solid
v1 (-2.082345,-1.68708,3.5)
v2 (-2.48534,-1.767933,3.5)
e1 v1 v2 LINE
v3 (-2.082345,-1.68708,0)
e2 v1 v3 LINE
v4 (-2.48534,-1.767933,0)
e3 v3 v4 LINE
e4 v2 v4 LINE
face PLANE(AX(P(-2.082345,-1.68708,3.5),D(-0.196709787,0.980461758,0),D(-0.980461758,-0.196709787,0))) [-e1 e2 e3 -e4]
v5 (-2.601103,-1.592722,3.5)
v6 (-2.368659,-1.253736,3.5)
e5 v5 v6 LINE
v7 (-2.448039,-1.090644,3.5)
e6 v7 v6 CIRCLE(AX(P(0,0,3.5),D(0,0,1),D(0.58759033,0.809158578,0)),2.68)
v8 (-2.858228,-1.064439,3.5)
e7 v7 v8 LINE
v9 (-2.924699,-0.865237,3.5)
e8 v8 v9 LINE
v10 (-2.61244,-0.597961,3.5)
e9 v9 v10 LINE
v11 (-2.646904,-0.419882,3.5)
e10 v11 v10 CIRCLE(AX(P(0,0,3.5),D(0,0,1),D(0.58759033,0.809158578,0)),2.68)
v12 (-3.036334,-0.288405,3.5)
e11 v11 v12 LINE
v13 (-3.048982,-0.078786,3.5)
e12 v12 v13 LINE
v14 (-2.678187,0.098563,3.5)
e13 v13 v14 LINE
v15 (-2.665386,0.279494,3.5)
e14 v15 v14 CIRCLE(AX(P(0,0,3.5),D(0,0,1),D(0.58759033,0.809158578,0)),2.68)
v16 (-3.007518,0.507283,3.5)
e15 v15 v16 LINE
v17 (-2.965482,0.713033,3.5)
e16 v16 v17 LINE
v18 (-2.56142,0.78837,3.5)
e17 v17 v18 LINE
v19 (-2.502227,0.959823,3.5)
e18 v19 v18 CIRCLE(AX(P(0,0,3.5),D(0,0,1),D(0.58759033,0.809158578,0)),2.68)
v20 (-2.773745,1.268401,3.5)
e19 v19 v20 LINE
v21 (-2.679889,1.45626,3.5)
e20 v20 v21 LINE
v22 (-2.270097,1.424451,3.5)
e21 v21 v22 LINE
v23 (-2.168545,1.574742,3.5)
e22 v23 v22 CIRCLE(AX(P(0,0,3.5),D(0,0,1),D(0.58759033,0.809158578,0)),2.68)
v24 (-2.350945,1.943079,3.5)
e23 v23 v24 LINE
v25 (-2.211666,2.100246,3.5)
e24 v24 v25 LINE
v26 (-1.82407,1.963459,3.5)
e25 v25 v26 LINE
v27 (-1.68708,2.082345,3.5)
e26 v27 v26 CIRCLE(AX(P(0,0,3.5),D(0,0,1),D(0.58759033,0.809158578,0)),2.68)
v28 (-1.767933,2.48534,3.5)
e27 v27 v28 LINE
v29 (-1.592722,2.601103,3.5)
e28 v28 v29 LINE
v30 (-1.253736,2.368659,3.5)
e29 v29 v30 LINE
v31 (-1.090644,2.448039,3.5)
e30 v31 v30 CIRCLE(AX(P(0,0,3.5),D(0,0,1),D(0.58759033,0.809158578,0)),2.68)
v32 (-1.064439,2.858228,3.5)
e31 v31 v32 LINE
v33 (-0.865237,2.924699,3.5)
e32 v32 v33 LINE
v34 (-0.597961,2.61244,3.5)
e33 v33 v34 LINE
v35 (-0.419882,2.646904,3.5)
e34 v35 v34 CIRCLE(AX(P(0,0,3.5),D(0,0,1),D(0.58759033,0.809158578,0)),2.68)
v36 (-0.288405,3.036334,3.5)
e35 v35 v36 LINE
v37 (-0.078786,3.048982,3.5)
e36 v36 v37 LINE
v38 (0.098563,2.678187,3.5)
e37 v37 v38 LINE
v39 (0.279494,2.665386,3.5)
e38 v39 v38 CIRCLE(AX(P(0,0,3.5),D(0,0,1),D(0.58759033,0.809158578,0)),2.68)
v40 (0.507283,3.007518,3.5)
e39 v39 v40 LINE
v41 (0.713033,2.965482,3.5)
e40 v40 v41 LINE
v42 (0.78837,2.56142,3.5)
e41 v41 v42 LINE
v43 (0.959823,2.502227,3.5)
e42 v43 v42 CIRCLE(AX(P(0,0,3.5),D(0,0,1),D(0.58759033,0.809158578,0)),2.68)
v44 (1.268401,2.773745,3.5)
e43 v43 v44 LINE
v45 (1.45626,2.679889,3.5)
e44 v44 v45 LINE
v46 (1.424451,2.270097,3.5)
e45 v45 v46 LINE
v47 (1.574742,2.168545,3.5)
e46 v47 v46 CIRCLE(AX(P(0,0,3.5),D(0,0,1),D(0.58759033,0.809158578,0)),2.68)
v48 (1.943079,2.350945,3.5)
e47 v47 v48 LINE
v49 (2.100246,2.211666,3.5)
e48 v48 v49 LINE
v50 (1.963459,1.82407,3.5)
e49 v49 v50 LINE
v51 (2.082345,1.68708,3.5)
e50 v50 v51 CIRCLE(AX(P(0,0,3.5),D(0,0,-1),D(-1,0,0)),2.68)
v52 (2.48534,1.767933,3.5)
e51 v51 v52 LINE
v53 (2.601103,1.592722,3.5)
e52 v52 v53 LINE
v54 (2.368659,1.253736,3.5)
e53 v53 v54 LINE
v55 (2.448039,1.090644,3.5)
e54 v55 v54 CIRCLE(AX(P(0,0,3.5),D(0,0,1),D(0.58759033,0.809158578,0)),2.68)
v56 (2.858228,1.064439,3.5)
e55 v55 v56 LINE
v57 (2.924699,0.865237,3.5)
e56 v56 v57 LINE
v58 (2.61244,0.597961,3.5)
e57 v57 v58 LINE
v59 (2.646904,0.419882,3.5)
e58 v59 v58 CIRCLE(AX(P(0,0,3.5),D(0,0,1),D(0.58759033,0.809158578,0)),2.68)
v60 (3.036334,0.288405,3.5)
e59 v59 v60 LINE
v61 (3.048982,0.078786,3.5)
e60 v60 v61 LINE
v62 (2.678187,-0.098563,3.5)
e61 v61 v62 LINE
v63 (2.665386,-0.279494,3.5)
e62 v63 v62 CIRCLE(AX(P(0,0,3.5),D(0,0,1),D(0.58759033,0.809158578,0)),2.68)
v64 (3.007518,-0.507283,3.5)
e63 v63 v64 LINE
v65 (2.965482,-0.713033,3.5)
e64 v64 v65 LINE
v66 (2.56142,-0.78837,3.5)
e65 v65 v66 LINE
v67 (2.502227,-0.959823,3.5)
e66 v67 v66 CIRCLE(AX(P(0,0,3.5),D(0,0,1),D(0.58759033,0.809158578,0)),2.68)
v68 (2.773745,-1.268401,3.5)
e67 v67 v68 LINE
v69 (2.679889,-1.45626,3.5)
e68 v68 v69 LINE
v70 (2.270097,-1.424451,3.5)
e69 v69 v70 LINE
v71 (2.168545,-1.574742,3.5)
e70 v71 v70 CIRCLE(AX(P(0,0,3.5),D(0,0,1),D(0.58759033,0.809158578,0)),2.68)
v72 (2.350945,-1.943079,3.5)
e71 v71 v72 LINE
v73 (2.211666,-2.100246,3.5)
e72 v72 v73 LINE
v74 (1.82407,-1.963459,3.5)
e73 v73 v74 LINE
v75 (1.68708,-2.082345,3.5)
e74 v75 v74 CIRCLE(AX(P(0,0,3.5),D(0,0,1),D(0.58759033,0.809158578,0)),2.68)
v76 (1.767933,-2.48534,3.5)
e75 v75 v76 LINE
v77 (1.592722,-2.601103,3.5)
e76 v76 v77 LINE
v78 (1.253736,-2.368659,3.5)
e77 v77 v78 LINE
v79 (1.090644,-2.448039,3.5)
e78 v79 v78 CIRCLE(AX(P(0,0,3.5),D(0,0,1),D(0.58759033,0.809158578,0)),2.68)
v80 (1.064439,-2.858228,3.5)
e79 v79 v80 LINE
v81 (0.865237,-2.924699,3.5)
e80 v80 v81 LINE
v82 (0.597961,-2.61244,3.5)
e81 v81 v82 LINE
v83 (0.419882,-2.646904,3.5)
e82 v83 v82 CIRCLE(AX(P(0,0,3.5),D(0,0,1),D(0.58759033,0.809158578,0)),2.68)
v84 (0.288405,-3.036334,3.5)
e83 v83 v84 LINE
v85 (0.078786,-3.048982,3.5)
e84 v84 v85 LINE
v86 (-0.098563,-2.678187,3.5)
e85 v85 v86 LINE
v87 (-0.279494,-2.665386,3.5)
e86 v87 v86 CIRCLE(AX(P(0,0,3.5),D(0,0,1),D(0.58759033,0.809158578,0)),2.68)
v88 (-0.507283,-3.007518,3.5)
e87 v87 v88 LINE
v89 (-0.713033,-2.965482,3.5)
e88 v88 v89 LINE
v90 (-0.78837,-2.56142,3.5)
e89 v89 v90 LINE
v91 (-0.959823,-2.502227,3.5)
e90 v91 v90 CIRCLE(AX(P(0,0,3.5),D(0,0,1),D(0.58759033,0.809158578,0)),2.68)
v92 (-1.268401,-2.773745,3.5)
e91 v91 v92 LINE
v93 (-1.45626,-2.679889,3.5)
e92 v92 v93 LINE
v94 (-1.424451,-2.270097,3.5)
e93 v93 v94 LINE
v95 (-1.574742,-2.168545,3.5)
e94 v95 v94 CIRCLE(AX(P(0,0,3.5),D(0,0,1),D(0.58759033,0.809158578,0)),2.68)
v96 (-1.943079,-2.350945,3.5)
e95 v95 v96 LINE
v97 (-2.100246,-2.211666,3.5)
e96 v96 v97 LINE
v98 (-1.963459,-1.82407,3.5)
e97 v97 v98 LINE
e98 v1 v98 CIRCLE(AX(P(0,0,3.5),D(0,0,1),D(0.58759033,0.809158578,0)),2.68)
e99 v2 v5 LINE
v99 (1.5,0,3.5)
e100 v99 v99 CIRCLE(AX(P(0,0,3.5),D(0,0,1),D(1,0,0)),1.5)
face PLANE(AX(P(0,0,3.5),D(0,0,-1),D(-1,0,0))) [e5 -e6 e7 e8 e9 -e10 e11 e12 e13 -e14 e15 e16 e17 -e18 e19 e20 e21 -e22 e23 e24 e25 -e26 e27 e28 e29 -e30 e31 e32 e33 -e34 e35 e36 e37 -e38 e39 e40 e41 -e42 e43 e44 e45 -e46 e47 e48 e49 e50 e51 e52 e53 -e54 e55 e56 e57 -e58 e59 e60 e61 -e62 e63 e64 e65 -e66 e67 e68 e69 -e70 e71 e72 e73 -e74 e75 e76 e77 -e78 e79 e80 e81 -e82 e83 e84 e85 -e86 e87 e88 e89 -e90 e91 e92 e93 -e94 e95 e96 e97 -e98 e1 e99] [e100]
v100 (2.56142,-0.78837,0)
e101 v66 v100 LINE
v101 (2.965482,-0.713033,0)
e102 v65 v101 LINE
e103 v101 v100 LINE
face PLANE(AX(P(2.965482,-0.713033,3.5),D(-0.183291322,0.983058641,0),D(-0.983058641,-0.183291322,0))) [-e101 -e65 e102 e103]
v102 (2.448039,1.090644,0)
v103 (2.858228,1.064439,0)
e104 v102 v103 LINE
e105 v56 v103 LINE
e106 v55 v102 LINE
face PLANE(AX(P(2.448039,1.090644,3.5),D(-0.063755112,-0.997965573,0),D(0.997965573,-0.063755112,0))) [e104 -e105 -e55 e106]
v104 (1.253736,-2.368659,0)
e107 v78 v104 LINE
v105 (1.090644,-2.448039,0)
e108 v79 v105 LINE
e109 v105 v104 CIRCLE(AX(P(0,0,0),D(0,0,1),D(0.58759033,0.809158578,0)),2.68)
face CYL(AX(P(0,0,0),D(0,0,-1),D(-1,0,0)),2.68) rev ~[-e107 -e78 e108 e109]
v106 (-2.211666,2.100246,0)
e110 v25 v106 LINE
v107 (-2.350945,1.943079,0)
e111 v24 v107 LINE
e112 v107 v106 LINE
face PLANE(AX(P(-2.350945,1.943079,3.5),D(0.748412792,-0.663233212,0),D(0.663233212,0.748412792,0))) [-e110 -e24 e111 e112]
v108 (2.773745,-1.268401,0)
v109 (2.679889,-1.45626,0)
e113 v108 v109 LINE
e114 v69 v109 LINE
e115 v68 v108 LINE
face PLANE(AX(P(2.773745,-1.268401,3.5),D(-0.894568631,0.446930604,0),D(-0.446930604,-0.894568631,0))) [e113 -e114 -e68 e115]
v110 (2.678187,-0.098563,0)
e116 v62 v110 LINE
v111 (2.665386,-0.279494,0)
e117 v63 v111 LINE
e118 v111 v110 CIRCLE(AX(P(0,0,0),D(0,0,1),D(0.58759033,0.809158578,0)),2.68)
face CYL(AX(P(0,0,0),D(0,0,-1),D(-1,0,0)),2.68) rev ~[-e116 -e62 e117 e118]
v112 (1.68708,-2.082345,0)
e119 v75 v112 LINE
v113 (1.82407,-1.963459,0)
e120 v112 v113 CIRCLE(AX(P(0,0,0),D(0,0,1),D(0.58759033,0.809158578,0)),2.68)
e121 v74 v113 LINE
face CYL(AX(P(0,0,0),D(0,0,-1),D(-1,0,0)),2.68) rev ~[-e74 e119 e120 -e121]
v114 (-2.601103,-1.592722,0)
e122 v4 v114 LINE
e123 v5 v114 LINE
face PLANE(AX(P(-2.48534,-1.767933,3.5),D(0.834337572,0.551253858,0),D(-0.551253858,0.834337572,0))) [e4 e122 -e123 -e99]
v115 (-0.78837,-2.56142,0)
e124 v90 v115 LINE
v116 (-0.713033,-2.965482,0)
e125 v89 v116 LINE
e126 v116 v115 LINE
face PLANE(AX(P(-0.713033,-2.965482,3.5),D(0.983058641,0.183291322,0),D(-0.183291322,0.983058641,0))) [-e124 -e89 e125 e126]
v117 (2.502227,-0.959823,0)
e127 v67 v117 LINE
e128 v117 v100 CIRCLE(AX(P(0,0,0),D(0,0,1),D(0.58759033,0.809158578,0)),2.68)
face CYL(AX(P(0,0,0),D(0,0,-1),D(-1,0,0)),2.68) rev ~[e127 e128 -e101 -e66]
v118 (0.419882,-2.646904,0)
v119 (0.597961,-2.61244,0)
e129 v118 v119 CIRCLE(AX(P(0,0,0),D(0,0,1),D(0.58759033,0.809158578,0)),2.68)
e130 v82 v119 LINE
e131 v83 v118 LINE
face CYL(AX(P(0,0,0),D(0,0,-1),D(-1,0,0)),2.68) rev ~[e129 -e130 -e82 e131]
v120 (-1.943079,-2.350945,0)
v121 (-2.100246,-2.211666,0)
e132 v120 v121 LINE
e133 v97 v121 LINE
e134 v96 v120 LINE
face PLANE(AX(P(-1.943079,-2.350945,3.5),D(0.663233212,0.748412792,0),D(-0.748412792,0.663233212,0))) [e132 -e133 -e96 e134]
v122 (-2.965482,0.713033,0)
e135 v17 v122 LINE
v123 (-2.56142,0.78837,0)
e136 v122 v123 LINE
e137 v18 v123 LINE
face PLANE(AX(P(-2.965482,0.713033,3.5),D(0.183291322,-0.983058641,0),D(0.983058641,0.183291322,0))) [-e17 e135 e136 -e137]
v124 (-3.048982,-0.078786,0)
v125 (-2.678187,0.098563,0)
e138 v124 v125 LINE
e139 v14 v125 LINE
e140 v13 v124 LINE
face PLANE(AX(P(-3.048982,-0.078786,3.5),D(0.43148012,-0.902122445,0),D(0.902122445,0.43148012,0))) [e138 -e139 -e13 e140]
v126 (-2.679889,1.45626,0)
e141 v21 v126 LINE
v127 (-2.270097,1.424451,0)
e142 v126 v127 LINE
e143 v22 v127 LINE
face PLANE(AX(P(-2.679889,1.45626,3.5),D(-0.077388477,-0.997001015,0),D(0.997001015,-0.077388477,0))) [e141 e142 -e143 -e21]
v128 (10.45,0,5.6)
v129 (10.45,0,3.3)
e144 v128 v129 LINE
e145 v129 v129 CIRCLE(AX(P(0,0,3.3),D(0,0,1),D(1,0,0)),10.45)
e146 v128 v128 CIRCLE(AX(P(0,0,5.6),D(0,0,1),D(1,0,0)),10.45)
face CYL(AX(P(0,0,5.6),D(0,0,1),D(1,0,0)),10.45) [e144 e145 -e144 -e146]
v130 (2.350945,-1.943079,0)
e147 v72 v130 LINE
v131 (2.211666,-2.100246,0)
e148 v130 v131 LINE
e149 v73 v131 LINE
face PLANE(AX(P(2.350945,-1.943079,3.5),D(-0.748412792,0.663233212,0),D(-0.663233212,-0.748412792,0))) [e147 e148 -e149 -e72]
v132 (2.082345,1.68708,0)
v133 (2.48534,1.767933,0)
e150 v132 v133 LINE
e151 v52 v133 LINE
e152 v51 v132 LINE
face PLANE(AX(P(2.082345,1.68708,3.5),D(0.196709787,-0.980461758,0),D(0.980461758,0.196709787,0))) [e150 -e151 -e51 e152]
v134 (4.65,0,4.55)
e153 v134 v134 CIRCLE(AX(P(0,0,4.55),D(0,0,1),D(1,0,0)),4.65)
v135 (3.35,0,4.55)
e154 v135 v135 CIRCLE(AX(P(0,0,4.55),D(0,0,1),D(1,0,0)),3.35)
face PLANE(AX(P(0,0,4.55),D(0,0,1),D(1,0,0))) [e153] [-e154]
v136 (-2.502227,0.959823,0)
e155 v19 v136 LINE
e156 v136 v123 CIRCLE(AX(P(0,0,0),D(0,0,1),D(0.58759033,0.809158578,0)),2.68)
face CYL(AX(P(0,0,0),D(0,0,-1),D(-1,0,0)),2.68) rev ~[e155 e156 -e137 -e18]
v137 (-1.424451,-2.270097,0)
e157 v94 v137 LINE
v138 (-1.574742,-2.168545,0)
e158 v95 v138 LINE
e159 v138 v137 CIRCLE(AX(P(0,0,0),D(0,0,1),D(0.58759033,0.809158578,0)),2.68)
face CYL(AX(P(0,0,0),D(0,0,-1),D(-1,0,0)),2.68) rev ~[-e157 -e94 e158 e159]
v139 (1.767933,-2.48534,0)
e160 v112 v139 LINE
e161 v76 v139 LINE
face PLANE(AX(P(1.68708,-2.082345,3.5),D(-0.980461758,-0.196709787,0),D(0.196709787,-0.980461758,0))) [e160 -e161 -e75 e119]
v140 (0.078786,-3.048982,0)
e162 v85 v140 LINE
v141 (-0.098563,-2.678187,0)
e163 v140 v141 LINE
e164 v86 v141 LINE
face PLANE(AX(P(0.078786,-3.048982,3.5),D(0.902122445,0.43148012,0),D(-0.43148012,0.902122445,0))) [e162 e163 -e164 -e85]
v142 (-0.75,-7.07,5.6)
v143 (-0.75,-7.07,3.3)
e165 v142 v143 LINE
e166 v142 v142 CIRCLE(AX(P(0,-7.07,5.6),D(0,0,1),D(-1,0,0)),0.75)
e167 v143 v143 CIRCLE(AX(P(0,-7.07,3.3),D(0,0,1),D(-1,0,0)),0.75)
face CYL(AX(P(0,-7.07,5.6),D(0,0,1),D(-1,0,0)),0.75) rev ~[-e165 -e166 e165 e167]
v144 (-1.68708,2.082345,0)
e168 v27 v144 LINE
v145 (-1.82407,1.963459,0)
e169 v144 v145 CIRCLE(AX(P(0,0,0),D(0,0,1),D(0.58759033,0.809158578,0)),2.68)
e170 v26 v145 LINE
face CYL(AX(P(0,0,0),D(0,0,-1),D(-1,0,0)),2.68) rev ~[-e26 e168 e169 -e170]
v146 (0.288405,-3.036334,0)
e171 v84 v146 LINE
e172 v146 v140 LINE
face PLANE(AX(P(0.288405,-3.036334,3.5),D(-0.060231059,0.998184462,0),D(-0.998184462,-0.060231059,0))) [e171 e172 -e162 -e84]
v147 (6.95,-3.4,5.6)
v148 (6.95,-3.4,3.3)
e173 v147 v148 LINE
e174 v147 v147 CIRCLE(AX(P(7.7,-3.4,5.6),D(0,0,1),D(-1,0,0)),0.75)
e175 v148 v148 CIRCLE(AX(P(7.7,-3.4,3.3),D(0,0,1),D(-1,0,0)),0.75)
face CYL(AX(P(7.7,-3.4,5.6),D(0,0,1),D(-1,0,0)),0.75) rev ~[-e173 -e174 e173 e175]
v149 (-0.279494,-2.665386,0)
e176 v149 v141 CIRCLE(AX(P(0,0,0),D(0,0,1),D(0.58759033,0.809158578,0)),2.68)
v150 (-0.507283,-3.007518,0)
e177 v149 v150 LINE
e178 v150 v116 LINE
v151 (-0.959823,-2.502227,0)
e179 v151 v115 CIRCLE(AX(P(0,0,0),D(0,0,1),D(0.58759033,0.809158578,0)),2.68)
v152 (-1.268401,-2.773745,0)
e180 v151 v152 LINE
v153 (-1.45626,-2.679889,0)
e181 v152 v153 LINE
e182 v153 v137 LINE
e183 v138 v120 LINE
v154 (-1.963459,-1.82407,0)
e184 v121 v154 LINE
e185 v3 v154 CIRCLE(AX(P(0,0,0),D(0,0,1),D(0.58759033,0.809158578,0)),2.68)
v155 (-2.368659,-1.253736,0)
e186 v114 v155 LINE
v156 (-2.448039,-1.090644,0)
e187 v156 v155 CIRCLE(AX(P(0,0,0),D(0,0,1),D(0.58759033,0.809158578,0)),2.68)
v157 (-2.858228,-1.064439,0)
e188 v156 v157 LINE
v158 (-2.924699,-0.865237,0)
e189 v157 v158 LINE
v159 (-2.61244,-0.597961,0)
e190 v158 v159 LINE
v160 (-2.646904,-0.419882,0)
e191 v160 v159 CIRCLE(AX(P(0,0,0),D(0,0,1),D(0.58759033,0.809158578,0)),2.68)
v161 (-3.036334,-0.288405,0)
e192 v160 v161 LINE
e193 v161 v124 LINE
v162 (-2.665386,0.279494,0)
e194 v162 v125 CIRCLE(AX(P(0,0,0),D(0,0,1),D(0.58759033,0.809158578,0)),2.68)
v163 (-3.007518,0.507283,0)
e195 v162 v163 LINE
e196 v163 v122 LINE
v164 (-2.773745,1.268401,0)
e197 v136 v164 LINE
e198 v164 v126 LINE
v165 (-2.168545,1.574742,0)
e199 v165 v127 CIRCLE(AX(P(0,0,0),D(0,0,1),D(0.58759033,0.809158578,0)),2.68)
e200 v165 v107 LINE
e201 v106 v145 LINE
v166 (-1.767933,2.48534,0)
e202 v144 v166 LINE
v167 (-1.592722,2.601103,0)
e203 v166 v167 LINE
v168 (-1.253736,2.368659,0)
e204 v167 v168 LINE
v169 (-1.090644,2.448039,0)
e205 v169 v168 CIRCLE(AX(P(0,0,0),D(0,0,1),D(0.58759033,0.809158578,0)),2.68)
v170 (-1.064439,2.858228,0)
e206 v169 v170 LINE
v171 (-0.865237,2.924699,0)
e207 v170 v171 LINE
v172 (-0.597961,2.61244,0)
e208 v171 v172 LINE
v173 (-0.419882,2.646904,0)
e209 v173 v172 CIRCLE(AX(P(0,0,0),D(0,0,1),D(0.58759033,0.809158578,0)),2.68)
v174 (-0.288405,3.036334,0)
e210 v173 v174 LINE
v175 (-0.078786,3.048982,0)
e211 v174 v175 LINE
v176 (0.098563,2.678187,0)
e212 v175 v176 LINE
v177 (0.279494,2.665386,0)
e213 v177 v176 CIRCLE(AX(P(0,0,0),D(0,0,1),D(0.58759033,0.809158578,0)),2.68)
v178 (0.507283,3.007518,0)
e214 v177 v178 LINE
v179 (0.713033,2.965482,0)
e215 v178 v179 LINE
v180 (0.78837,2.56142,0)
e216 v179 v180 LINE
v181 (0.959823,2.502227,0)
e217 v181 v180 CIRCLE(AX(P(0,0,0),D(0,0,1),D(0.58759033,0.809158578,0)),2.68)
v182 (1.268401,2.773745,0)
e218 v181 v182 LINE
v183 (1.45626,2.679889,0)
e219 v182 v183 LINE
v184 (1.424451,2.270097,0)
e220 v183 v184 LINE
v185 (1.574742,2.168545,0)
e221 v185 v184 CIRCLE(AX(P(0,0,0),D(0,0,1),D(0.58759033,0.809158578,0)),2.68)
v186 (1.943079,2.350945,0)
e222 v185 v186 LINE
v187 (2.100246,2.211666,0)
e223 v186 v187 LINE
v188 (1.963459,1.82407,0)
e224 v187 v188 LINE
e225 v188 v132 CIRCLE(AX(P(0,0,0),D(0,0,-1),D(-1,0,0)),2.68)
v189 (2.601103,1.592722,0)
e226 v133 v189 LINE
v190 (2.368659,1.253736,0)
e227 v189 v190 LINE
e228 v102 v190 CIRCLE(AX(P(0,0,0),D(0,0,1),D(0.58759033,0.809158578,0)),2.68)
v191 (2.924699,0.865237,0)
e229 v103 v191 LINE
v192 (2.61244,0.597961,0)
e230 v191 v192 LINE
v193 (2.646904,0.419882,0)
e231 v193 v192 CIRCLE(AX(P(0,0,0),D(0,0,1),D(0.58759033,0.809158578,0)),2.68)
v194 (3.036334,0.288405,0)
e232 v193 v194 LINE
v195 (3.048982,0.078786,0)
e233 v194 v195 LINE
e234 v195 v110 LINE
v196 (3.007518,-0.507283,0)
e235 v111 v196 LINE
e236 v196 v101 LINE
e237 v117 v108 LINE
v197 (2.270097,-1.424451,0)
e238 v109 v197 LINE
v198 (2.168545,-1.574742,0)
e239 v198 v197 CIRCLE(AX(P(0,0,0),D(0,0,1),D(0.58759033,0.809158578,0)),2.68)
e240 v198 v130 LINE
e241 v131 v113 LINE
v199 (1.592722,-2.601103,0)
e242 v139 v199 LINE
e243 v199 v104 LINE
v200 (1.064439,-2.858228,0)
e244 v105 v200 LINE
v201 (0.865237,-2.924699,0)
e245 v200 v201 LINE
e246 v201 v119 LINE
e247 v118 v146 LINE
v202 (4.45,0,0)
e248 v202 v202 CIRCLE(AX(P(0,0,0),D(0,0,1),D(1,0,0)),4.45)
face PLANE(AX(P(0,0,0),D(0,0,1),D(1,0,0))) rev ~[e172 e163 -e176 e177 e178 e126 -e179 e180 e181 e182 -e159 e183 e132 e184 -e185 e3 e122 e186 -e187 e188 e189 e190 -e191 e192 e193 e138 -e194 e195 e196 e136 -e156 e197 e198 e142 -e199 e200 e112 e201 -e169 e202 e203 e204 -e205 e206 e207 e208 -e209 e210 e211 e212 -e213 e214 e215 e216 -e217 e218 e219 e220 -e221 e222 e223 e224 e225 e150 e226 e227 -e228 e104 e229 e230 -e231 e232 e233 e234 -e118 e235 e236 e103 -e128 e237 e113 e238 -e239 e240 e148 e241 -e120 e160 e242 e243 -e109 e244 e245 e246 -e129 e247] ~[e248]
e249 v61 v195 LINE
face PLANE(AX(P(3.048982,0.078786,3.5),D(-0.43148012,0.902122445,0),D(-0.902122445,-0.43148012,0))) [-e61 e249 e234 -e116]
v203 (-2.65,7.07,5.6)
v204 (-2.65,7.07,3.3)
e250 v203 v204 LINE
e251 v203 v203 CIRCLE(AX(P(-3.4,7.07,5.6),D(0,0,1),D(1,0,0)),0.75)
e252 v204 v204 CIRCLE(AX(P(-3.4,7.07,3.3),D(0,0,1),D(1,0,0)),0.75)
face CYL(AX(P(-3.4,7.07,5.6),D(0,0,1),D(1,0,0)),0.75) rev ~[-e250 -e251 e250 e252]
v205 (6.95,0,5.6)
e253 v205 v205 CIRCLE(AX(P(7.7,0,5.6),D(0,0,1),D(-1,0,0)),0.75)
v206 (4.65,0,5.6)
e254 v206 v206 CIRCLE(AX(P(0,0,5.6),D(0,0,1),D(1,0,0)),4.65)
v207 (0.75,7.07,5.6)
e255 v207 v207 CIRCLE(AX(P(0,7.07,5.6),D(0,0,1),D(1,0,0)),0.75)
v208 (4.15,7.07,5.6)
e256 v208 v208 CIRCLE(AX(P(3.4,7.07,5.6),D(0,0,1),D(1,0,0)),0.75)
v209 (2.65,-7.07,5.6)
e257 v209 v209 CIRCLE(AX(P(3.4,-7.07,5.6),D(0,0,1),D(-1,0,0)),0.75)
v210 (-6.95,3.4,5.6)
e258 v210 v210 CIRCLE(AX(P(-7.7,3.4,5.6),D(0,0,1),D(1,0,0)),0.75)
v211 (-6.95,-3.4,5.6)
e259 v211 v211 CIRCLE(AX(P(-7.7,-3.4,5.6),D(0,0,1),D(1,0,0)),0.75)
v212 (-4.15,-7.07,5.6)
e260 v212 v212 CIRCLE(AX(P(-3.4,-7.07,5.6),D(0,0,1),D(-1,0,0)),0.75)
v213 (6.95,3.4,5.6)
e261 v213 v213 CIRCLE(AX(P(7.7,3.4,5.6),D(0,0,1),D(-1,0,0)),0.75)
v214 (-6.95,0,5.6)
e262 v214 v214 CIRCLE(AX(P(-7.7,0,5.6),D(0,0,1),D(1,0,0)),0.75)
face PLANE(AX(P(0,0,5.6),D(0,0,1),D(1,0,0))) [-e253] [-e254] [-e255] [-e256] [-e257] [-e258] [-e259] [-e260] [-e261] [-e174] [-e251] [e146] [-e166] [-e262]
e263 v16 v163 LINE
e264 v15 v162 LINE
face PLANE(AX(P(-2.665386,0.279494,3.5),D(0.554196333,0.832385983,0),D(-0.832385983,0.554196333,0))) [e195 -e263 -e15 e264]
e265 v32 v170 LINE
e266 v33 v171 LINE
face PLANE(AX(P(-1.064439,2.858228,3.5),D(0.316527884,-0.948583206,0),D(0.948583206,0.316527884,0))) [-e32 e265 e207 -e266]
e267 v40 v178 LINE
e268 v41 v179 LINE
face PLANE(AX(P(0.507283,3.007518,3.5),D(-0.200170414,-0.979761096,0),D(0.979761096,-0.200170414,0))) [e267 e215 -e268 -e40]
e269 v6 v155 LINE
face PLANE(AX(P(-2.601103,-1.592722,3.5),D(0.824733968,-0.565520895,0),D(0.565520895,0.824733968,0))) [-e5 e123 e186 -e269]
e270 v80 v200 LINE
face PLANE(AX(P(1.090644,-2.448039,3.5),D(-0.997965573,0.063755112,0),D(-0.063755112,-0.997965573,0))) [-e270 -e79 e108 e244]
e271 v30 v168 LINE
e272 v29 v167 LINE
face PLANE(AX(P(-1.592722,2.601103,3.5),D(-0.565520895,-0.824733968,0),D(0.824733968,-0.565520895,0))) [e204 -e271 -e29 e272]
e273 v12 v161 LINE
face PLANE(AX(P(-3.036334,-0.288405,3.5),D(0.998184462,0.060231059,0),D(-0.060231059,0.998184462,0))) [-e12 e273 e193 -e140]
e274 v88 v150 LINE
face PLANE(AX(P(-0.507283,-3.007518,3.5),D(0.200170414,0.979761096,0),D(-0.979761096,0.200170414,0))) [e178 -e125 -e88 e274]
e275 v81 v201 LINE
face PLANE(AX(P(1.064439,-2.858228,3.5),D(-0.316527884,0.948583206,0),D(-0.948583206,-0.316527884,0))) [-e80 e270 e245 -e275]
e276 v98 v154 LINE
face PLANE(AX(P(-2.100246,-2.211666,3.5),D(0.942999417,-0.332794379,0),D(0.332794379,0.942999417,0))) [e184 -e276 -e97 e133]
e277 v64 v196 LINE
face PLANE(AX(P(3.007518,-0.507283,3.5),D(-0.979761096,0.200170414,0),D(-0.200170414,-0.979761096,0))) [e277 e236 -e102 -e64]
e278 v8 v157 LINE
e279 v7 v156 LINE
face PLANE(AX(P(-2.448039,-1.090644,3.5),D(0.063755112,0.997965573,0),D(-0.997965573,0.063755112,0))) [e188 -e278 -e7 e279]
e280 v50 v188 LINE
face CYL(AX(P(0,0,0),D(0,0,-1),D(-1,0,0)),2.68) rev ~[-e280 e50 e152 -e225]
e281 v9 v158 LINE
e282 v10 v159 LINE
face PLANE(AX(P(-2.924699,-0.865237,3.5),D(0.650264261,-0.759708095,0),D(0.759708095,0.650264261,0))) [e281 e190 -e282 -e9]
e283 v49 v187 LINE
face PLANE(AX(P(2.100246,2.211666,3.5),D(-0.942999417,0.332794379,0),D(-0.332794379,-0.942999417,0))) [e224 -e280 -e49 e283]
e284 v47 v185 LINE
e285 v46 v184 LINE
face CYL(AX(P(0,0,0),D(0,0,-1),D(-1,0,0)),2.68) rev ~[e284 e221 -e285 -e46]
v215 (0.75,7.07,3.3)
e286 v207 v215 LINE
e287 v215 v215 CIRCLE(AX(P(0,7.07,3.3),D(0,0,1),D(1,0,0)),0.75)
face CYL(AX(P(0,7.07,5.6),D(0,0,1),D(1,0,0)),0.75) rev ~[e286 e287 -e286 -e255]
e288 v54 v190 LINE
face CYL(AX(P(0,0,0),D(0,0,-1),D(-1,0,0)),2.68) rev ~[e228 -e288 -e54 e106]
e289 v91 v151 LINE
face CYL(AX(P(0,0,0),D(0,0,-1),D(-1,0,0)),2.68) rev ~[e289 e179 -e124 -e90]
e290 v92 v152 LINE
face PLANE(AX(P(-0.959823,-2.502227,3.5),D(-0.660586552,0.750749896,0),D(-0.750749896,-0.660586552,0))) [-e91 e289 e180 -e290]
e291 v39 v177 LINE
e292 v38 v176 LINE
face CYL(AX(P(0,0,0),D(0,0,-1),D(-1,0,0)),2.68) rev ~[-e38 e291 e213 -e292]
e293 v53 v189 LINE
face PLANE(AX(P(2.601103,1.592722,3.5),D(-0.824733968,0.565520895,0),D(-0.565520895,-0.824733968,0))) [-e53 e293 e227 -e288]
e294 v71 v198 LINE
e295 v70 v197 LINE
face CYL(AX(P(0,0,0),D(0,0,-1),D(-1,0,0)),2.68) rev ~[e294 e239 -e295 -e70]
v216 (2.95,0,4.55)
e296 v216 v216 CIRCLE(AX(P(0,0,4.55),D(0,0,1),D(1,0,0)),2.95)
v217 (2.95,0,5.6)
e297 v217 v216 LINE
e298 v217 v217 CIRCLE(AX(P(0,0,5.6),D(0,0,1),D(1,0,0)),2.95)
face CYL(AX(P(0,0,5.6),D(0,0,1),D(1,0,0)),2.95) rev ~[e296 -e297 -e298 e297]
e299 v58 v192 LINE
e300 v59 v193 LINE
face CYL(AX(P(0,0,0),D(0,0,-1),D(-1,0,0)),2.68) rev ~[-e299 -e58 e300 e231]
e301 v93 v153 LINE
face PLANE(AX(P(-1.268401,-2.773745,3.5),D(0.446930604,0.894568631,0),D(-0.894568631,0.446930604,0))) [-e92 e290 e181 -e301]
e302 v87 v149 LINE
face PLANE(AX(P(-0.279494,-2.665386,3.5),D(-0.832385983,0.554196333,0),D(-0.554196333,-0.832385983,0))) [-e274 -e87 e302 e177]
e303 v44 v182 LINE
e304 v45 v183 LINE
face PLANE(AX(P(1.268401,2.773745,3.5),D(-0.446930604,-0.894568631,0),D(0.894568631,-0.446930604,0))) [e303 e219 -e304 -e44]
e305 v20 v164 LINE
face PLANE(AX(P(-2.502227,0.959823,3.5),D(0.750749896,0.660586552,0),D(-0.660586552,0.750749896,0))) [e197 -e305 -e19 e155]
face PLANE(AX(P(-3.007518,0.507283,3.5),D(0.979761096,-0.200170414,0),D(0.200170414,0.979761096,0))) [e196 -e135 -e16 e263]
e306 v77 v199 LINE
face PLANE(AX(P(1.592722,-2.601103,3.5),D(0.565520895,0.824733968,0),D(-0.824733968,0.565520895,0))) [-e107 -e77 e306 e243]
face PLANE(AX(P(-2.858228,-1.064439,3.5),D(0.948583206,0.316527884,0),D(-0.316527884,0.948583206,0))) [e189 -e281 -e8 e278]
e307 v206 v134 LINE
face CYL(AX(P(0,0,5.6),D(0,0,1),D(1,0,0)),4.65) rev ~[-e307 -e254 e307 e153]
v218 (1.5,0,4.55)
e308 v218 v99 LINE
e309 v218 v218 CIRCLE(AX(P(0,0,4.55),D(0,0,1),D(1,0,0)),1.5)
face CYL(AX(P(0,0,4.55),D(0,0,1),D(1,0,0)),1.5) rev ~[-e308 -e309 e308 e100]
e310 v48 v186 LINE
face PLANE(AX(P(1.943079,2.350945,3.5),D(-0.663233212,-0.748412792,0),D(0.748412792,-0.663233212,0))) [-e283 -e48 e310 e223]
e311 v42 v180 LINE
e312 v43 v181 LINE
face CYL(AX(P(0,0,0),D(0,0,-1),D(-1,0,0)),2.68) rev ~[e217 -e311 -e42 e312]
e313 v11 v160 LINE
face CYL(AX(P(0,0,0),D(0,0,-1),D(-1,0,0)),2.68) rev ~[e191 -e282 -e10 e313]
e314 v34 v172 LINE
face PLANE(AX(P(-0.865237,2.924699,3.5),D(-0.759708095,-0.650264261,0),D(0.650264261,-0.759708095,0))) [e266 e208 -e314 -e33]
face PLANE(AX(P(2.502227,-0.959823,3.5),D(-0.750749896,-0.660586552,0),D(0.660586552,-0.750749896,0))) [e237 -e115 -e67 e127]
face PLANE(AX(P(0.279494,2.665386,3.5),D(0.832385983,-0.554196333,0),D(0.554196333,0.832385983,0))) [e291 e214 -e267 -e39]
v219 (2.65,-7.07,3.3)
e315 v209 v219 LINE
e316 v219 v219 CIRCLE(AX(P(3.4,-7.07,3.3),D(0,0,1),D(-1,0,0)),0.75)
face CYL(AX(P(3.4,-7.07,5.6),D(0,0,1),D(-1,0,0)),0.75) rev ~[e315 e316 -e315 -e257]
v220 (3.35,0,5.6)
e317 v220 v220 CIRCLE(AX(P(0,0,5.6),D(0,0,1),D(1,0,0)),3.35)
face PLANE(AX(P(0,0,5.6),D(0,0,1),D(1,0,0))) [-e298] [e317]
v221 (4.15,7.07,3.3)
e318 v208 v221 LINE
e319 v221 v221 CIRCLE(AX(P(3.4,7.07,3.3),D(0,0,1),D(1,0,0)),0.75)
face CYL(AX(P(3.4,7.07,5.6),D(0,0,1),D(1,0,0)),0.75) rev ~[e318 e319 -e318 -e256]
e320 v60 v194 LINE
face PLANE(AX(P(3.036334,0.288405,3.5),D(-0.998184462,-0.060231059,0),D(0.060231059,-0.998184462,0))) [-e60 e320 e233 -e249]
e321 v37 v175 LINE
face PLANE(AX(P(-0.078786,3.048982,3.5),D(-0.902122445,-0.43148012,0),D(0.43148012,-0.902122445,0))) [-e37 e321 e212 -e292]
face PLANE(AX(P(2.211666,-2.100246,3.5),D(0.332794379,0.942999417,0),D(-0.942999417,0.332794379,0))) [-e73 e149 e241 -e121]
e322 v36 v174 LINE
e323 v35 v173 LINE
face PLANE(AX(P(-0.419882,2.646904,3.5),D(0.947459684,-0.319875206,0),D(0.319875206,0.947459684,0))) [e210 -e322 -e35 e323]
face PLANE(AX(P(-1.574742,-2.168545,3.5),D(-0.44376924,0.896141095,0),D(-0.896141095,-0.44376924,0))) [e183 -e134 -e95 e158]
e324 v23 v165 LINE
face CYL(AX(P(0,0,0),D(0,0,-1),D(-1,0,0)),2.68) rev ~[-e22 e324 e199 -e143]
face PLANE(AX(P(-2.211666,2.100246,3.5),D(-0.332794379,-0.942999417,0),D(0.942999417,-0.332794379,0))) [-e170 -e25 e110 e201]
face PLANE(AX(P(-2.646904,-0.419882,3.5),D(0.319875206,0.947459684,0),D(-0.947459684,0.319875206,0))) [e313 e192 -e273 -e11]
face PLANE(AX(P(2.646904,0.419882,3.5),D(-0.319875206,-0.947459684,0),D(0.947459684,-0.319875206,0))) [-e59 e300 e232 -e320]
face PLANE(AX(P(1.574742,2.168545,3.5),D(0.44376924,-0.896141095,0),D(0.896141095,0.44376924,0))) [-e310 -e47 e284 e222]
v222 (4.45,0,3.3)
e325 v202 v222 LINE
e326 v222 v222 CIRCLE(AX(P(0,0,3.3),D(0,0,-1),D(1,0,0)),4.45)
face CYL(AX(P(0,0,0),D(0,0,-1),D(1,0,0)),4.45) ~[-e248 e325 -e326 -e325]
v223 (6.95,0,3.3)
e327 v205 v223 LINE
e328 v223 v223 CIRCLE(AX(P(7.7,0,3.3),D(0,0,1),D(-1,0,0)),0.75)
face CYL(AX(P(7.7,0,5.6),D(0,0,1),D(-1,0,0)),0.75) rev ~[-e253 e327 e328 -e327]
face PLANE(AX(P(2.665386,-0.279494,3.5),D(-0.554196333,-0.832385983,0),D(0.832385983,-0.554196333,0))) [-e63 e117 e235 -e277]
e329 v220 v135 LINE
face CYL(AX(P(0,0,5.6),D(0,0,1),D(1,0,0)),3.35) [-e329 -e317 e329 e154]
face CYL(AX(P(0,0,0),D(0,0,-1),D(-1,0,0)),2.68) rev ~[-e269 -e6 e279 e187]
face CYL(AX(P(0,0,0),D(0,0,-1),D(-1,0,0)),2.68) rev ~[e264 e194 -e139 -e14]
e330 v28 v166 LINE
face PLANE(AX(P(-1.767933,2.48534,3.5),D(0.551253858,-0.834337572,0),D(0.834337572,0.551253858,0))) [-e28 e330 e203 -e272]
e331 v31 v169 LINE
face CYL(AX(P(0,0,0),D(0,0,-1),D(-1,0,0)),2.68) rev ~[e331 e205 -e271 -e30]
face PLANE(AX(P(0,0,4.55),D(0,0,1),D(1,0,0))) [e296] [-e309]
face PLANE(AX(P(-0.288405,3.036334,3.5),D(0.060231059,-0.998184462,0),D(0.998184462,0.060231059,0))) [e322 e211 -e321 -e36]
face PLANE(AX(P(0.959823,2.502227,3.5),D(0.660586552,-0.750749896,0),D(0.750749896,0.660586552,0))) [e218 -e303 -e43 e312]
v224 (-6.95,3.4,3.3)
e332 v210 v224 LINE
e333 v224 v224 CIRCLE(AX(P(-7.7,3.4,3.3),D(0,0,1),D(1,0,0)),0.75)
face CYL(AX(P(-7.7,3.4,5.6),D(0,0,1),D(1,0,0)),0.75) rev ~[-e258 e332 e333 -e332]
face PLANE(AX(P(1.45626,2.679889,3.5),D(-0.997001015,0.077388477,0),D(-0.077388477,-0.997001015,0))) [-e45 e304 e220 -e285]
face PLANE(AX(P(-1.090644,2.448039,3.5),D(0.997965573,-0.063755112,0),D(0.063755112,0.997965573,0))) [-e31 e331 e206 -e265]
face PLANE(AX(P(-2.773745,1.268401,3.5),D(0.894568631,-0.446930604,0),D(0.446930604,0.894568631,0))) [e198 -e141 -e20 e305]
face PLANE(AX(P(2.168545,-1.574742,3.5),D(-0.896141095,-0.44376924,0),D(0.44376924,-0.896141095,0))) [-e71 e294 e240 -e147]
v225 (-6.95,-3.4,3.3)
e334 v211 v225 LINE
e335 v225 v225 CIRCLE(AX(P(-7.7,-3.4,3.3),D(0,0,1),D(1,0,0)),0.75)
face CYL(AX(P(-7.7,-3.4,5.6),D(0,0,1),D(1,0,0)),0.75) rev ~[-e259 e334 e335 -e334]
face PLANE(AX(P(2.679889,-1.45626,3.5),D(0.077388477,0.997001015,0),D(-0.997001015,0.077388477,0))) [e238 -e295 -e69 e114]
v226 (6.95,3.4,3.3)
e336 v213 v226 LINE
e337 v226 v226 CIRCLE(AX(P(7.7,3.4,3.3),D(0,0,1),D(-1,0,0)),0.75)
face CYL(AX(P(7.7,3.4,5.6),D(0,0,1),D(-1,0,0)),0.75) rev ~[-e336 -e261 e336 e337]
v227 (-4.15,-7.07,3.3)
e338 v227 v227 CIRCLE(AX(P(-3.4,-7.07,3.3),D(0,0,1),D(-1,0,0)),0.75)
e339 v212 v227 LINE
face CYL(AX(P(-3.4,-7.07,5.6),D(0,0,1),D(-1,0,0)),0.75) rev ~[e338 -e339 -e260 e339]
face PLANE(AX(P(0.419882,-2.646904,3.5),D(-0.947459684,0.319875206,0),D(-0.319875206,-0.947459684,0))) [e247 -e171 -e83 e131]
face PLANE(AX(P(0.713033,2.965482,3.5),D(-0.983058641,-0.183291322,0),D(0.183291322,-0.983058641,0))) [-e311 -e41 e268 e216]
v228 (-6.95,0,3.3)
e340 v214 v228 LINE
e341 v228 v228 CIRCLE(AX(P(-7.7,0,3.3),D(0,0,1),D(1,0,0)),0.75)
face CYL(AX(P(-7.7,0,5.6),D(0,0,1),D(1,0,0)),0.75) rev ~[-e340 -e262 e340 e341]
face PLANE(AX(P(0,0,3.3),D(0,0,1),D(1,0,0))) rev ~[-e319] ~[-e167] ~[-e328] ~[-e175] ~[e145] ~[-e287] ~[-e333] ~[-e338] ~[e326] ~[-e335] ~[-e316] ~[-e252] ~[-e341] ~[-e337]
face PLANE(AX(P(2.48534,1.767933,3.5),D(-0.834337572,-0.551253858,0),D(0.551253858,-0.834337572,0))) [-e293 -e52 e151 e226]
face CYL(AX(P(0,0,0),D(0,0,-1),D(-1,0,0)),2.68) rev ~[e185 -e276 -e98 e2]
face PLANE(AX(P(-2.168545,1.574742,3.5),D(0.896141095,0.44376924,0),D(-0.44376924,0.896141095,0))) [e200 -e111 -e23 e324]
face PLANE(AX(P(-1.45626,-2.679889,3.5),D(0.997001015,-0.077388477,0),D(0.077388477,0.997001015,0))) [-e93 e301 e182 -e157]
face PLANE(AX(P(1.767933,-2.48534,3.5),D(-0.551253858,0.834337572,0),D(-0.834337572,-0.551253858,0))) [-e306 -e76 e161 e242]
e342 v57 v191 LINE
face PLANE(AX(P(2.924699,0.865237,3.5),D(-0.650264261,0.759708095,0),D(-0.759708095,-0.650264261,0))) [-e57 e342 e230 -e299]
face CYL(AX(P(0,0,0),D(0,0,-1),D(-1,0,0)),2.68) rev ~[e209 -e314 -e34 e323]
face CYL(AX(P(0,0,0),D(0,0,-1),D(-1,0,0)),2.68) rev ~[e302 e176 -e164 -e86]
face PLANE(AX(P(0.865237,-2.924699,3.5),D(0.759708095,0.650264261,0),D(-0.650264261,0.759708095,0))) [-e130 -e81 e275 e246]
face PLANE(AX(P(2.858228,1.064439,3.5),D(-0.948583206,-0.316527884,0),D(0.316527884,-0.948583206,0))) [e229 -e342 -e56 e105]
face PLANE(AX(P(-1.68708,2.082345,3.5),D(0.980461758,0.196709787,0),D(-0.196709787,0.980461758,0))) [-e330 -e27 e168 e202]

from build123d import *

# Parameters (mm, degrees)
IZIM1_R                     = 4.45
Y_KSEKLIK_EKSTR_ZYON1_DEPTH = 5.6
IZIM2_R                     = 10.45
IZIM2_R_2                   = 0.75
Y_KSEKLIK_EKSTR_ZYON2_DEPTH = 2.3
IZIM3_R                     = 2.95
KES_EKSTR_ZYON1_DEPTH       = 1.05
IZIM4_R                     = 4.65
IZIM4_R_2                   = 3.35
KES_EKSTR_ZYON2_DEPTH       = 1.05
IZIM5_R                     = 1.5
KES_EKSTR_ZYON3_DEPTH       = 11.05
IZIM6_R                     = 2.68
KES_EKSTR_ZYON4_DEPTH       = 3.5
KES_EKSTR_ZYON5_DEPTH       = 3.5
DAIRESEL_KAPLAMA1_COUNT     = 24


with BuildPart() as part:
    # Çizim1 → Yükseklik-Ekstrüzyon1 (new body)
    with BuildSketch(Plane.XY):
        Circle(IZIM1_R)
    extrude(amount=Y_KSEKLIK_EKSTR_ZYON1_DEPTH)

    # Çizim2 → Yükseklik-Ekstrüzyon2 (add)
    with BuildSketch(Plane.XY.offset(5.6)):
        Circle(IZIM2_R)
        with Locations((-7.7, 3.4)):
            Circle(IZIM2_R_2, mode=Mode.SUBTRACT)
        with Locations((-7.7, 0)):
            Circle(IZIM2_R_2, mode=Mode.SUBTRACT)
        with Locations((-7.7, -3.4)):
            Circle(IZIM2_R_2, mode=Mode.SUBTRACT)
        with Locations((0, 7.07)):
            Circle(IZIM2_R_2, mode=Mode.SUBTRACT)
        with Locations((3.4, 7.07)):
            Circle(IZIM2_R_2, mode=Mode.SUBTRACT)
        with Locations((-3.4, 7.07)):
            Circle(IZIM2_R_2, mode=Mode.SUBTRACT)
        with Locations(Location((-3.4, -7.07, 0), (0, 0, 180))):
            Circle(IZIM2_R_2, mode=Mode.SUBTRACT)
        with Locations(Location((3.4, -7.07, 0), (0, 0, 180))):
            Circle(IZIM2_R_2, mode=Mode.SUBTRACT)
        with Locations(Location((0, -7.07, 0), (0, 0, 180))):
            Circle(IZIM2_R_2, mode=Mode.SUBTRACT)
        with Locations(Location((7.7, -3.4, 0), (0, 0, 180))):
            Circle(IZIM2_R_2, mode=Mode.SUBTRACT)
        with Locations(Location((7.7, 0, 0), (0, 0, 180))):
            Circle(IZIM2_R_2, mode=Mode.SUBTRACT)
        with Locations(Location((7.7, 3.4, 0), (0, 0, 180))):
            Circle(IZIM2_R_2, mode=Mode.SUBTRACT)
    extrude(amount=-Y_KSEKLIK_EKSTR_ZYON2_DEPTH)

    # Çizim3 → Kes-Ekstrüzyon1 (cut)
    with BuildSketch(Plane.XY.offset(5.6)):
        Circle(IZIM3_R)
    extrude(amount=-KES_EKSTR_ZYON1_DEPTH, mode=Mode.SUBTRACT)

    # Çizim4 → Kes-Ekstrüzyon2 (cut)
    with BuildSketch(Plane.XY.offset(5.6)):
        Circle(IZIM4_R)
        Circle(IZIM4_R_2, mode=Mode.SUBTRACT)
    extrude(amount=-KES_EKSTR_ZYON2_DEPTH, mode=Mode.SUBTRACT)

    # Çizim5 → Kes-Ekstrüzyon3 (cut)
    with BuildSketch(Plane.XY.offset(4.55)):
        Circle(IZIM5_R)
    extrude(amount=-KES_EKSTR_ZYON3_DEPTH, mode=Mode.SUBTRACT)

    # Çizim6 → Kes-Ekstrüzyon4 (cut)
    with BuildSketch(Plane(origin=(0, 0, 0), x_dir=(-1, 0, 0), z_dir=(0, 0, -1))):
        Circle(IZIM6_R)
    extrude(amount=-KES_EKSTR_ZYON4_DEPTH, mode=Mode.SUBTRACT)

    # Çizim7 → Kes-Ekstrüzyon5 (cut)
    with BuildSketch(Plane(origin=(0, 0, 3.5), x_dir=(-1, 0, 0), z_dir=(0, 0, -1))):
        with BuildLine():
            Line((-2.485339529, 1.767933095), (-2.601102839, 1.592722205))
            Line((-2.601102839, 1.592722205), (-2.368659359, 1.253735555))
            ThreePointArc((-2.368659359, 1.253735555), (-2.236024692, 1.477360341), (-2.082344793, 1.687080366))
            Line((-2.082344793, 1.687080366), (-2.485339529, 1.767933095))
        make_face()
    kes_ekstr_zyon5 = extrude(amount=KES_EKSTR_ZYON5_DEPTH, mode=Mode.SUBTRACT)

    # Dairesel Kaplama1: Kes-Ekstrüzyon5 ×24 about axis
    dairesel_kaplama1_axis = Axis((0, 0, 0), (0, 0, 1))
    for i in range(1, DAIRESEL_KAPLAMA1_COUNT):
        add(kes_ekstr_zyon5.rotate(dairesel_kaplama1_axis, i * 360 / DAIRESEL_KAPLAMA1_COUNT), mode=Mode.SUBTRACT)


solid = part.part
